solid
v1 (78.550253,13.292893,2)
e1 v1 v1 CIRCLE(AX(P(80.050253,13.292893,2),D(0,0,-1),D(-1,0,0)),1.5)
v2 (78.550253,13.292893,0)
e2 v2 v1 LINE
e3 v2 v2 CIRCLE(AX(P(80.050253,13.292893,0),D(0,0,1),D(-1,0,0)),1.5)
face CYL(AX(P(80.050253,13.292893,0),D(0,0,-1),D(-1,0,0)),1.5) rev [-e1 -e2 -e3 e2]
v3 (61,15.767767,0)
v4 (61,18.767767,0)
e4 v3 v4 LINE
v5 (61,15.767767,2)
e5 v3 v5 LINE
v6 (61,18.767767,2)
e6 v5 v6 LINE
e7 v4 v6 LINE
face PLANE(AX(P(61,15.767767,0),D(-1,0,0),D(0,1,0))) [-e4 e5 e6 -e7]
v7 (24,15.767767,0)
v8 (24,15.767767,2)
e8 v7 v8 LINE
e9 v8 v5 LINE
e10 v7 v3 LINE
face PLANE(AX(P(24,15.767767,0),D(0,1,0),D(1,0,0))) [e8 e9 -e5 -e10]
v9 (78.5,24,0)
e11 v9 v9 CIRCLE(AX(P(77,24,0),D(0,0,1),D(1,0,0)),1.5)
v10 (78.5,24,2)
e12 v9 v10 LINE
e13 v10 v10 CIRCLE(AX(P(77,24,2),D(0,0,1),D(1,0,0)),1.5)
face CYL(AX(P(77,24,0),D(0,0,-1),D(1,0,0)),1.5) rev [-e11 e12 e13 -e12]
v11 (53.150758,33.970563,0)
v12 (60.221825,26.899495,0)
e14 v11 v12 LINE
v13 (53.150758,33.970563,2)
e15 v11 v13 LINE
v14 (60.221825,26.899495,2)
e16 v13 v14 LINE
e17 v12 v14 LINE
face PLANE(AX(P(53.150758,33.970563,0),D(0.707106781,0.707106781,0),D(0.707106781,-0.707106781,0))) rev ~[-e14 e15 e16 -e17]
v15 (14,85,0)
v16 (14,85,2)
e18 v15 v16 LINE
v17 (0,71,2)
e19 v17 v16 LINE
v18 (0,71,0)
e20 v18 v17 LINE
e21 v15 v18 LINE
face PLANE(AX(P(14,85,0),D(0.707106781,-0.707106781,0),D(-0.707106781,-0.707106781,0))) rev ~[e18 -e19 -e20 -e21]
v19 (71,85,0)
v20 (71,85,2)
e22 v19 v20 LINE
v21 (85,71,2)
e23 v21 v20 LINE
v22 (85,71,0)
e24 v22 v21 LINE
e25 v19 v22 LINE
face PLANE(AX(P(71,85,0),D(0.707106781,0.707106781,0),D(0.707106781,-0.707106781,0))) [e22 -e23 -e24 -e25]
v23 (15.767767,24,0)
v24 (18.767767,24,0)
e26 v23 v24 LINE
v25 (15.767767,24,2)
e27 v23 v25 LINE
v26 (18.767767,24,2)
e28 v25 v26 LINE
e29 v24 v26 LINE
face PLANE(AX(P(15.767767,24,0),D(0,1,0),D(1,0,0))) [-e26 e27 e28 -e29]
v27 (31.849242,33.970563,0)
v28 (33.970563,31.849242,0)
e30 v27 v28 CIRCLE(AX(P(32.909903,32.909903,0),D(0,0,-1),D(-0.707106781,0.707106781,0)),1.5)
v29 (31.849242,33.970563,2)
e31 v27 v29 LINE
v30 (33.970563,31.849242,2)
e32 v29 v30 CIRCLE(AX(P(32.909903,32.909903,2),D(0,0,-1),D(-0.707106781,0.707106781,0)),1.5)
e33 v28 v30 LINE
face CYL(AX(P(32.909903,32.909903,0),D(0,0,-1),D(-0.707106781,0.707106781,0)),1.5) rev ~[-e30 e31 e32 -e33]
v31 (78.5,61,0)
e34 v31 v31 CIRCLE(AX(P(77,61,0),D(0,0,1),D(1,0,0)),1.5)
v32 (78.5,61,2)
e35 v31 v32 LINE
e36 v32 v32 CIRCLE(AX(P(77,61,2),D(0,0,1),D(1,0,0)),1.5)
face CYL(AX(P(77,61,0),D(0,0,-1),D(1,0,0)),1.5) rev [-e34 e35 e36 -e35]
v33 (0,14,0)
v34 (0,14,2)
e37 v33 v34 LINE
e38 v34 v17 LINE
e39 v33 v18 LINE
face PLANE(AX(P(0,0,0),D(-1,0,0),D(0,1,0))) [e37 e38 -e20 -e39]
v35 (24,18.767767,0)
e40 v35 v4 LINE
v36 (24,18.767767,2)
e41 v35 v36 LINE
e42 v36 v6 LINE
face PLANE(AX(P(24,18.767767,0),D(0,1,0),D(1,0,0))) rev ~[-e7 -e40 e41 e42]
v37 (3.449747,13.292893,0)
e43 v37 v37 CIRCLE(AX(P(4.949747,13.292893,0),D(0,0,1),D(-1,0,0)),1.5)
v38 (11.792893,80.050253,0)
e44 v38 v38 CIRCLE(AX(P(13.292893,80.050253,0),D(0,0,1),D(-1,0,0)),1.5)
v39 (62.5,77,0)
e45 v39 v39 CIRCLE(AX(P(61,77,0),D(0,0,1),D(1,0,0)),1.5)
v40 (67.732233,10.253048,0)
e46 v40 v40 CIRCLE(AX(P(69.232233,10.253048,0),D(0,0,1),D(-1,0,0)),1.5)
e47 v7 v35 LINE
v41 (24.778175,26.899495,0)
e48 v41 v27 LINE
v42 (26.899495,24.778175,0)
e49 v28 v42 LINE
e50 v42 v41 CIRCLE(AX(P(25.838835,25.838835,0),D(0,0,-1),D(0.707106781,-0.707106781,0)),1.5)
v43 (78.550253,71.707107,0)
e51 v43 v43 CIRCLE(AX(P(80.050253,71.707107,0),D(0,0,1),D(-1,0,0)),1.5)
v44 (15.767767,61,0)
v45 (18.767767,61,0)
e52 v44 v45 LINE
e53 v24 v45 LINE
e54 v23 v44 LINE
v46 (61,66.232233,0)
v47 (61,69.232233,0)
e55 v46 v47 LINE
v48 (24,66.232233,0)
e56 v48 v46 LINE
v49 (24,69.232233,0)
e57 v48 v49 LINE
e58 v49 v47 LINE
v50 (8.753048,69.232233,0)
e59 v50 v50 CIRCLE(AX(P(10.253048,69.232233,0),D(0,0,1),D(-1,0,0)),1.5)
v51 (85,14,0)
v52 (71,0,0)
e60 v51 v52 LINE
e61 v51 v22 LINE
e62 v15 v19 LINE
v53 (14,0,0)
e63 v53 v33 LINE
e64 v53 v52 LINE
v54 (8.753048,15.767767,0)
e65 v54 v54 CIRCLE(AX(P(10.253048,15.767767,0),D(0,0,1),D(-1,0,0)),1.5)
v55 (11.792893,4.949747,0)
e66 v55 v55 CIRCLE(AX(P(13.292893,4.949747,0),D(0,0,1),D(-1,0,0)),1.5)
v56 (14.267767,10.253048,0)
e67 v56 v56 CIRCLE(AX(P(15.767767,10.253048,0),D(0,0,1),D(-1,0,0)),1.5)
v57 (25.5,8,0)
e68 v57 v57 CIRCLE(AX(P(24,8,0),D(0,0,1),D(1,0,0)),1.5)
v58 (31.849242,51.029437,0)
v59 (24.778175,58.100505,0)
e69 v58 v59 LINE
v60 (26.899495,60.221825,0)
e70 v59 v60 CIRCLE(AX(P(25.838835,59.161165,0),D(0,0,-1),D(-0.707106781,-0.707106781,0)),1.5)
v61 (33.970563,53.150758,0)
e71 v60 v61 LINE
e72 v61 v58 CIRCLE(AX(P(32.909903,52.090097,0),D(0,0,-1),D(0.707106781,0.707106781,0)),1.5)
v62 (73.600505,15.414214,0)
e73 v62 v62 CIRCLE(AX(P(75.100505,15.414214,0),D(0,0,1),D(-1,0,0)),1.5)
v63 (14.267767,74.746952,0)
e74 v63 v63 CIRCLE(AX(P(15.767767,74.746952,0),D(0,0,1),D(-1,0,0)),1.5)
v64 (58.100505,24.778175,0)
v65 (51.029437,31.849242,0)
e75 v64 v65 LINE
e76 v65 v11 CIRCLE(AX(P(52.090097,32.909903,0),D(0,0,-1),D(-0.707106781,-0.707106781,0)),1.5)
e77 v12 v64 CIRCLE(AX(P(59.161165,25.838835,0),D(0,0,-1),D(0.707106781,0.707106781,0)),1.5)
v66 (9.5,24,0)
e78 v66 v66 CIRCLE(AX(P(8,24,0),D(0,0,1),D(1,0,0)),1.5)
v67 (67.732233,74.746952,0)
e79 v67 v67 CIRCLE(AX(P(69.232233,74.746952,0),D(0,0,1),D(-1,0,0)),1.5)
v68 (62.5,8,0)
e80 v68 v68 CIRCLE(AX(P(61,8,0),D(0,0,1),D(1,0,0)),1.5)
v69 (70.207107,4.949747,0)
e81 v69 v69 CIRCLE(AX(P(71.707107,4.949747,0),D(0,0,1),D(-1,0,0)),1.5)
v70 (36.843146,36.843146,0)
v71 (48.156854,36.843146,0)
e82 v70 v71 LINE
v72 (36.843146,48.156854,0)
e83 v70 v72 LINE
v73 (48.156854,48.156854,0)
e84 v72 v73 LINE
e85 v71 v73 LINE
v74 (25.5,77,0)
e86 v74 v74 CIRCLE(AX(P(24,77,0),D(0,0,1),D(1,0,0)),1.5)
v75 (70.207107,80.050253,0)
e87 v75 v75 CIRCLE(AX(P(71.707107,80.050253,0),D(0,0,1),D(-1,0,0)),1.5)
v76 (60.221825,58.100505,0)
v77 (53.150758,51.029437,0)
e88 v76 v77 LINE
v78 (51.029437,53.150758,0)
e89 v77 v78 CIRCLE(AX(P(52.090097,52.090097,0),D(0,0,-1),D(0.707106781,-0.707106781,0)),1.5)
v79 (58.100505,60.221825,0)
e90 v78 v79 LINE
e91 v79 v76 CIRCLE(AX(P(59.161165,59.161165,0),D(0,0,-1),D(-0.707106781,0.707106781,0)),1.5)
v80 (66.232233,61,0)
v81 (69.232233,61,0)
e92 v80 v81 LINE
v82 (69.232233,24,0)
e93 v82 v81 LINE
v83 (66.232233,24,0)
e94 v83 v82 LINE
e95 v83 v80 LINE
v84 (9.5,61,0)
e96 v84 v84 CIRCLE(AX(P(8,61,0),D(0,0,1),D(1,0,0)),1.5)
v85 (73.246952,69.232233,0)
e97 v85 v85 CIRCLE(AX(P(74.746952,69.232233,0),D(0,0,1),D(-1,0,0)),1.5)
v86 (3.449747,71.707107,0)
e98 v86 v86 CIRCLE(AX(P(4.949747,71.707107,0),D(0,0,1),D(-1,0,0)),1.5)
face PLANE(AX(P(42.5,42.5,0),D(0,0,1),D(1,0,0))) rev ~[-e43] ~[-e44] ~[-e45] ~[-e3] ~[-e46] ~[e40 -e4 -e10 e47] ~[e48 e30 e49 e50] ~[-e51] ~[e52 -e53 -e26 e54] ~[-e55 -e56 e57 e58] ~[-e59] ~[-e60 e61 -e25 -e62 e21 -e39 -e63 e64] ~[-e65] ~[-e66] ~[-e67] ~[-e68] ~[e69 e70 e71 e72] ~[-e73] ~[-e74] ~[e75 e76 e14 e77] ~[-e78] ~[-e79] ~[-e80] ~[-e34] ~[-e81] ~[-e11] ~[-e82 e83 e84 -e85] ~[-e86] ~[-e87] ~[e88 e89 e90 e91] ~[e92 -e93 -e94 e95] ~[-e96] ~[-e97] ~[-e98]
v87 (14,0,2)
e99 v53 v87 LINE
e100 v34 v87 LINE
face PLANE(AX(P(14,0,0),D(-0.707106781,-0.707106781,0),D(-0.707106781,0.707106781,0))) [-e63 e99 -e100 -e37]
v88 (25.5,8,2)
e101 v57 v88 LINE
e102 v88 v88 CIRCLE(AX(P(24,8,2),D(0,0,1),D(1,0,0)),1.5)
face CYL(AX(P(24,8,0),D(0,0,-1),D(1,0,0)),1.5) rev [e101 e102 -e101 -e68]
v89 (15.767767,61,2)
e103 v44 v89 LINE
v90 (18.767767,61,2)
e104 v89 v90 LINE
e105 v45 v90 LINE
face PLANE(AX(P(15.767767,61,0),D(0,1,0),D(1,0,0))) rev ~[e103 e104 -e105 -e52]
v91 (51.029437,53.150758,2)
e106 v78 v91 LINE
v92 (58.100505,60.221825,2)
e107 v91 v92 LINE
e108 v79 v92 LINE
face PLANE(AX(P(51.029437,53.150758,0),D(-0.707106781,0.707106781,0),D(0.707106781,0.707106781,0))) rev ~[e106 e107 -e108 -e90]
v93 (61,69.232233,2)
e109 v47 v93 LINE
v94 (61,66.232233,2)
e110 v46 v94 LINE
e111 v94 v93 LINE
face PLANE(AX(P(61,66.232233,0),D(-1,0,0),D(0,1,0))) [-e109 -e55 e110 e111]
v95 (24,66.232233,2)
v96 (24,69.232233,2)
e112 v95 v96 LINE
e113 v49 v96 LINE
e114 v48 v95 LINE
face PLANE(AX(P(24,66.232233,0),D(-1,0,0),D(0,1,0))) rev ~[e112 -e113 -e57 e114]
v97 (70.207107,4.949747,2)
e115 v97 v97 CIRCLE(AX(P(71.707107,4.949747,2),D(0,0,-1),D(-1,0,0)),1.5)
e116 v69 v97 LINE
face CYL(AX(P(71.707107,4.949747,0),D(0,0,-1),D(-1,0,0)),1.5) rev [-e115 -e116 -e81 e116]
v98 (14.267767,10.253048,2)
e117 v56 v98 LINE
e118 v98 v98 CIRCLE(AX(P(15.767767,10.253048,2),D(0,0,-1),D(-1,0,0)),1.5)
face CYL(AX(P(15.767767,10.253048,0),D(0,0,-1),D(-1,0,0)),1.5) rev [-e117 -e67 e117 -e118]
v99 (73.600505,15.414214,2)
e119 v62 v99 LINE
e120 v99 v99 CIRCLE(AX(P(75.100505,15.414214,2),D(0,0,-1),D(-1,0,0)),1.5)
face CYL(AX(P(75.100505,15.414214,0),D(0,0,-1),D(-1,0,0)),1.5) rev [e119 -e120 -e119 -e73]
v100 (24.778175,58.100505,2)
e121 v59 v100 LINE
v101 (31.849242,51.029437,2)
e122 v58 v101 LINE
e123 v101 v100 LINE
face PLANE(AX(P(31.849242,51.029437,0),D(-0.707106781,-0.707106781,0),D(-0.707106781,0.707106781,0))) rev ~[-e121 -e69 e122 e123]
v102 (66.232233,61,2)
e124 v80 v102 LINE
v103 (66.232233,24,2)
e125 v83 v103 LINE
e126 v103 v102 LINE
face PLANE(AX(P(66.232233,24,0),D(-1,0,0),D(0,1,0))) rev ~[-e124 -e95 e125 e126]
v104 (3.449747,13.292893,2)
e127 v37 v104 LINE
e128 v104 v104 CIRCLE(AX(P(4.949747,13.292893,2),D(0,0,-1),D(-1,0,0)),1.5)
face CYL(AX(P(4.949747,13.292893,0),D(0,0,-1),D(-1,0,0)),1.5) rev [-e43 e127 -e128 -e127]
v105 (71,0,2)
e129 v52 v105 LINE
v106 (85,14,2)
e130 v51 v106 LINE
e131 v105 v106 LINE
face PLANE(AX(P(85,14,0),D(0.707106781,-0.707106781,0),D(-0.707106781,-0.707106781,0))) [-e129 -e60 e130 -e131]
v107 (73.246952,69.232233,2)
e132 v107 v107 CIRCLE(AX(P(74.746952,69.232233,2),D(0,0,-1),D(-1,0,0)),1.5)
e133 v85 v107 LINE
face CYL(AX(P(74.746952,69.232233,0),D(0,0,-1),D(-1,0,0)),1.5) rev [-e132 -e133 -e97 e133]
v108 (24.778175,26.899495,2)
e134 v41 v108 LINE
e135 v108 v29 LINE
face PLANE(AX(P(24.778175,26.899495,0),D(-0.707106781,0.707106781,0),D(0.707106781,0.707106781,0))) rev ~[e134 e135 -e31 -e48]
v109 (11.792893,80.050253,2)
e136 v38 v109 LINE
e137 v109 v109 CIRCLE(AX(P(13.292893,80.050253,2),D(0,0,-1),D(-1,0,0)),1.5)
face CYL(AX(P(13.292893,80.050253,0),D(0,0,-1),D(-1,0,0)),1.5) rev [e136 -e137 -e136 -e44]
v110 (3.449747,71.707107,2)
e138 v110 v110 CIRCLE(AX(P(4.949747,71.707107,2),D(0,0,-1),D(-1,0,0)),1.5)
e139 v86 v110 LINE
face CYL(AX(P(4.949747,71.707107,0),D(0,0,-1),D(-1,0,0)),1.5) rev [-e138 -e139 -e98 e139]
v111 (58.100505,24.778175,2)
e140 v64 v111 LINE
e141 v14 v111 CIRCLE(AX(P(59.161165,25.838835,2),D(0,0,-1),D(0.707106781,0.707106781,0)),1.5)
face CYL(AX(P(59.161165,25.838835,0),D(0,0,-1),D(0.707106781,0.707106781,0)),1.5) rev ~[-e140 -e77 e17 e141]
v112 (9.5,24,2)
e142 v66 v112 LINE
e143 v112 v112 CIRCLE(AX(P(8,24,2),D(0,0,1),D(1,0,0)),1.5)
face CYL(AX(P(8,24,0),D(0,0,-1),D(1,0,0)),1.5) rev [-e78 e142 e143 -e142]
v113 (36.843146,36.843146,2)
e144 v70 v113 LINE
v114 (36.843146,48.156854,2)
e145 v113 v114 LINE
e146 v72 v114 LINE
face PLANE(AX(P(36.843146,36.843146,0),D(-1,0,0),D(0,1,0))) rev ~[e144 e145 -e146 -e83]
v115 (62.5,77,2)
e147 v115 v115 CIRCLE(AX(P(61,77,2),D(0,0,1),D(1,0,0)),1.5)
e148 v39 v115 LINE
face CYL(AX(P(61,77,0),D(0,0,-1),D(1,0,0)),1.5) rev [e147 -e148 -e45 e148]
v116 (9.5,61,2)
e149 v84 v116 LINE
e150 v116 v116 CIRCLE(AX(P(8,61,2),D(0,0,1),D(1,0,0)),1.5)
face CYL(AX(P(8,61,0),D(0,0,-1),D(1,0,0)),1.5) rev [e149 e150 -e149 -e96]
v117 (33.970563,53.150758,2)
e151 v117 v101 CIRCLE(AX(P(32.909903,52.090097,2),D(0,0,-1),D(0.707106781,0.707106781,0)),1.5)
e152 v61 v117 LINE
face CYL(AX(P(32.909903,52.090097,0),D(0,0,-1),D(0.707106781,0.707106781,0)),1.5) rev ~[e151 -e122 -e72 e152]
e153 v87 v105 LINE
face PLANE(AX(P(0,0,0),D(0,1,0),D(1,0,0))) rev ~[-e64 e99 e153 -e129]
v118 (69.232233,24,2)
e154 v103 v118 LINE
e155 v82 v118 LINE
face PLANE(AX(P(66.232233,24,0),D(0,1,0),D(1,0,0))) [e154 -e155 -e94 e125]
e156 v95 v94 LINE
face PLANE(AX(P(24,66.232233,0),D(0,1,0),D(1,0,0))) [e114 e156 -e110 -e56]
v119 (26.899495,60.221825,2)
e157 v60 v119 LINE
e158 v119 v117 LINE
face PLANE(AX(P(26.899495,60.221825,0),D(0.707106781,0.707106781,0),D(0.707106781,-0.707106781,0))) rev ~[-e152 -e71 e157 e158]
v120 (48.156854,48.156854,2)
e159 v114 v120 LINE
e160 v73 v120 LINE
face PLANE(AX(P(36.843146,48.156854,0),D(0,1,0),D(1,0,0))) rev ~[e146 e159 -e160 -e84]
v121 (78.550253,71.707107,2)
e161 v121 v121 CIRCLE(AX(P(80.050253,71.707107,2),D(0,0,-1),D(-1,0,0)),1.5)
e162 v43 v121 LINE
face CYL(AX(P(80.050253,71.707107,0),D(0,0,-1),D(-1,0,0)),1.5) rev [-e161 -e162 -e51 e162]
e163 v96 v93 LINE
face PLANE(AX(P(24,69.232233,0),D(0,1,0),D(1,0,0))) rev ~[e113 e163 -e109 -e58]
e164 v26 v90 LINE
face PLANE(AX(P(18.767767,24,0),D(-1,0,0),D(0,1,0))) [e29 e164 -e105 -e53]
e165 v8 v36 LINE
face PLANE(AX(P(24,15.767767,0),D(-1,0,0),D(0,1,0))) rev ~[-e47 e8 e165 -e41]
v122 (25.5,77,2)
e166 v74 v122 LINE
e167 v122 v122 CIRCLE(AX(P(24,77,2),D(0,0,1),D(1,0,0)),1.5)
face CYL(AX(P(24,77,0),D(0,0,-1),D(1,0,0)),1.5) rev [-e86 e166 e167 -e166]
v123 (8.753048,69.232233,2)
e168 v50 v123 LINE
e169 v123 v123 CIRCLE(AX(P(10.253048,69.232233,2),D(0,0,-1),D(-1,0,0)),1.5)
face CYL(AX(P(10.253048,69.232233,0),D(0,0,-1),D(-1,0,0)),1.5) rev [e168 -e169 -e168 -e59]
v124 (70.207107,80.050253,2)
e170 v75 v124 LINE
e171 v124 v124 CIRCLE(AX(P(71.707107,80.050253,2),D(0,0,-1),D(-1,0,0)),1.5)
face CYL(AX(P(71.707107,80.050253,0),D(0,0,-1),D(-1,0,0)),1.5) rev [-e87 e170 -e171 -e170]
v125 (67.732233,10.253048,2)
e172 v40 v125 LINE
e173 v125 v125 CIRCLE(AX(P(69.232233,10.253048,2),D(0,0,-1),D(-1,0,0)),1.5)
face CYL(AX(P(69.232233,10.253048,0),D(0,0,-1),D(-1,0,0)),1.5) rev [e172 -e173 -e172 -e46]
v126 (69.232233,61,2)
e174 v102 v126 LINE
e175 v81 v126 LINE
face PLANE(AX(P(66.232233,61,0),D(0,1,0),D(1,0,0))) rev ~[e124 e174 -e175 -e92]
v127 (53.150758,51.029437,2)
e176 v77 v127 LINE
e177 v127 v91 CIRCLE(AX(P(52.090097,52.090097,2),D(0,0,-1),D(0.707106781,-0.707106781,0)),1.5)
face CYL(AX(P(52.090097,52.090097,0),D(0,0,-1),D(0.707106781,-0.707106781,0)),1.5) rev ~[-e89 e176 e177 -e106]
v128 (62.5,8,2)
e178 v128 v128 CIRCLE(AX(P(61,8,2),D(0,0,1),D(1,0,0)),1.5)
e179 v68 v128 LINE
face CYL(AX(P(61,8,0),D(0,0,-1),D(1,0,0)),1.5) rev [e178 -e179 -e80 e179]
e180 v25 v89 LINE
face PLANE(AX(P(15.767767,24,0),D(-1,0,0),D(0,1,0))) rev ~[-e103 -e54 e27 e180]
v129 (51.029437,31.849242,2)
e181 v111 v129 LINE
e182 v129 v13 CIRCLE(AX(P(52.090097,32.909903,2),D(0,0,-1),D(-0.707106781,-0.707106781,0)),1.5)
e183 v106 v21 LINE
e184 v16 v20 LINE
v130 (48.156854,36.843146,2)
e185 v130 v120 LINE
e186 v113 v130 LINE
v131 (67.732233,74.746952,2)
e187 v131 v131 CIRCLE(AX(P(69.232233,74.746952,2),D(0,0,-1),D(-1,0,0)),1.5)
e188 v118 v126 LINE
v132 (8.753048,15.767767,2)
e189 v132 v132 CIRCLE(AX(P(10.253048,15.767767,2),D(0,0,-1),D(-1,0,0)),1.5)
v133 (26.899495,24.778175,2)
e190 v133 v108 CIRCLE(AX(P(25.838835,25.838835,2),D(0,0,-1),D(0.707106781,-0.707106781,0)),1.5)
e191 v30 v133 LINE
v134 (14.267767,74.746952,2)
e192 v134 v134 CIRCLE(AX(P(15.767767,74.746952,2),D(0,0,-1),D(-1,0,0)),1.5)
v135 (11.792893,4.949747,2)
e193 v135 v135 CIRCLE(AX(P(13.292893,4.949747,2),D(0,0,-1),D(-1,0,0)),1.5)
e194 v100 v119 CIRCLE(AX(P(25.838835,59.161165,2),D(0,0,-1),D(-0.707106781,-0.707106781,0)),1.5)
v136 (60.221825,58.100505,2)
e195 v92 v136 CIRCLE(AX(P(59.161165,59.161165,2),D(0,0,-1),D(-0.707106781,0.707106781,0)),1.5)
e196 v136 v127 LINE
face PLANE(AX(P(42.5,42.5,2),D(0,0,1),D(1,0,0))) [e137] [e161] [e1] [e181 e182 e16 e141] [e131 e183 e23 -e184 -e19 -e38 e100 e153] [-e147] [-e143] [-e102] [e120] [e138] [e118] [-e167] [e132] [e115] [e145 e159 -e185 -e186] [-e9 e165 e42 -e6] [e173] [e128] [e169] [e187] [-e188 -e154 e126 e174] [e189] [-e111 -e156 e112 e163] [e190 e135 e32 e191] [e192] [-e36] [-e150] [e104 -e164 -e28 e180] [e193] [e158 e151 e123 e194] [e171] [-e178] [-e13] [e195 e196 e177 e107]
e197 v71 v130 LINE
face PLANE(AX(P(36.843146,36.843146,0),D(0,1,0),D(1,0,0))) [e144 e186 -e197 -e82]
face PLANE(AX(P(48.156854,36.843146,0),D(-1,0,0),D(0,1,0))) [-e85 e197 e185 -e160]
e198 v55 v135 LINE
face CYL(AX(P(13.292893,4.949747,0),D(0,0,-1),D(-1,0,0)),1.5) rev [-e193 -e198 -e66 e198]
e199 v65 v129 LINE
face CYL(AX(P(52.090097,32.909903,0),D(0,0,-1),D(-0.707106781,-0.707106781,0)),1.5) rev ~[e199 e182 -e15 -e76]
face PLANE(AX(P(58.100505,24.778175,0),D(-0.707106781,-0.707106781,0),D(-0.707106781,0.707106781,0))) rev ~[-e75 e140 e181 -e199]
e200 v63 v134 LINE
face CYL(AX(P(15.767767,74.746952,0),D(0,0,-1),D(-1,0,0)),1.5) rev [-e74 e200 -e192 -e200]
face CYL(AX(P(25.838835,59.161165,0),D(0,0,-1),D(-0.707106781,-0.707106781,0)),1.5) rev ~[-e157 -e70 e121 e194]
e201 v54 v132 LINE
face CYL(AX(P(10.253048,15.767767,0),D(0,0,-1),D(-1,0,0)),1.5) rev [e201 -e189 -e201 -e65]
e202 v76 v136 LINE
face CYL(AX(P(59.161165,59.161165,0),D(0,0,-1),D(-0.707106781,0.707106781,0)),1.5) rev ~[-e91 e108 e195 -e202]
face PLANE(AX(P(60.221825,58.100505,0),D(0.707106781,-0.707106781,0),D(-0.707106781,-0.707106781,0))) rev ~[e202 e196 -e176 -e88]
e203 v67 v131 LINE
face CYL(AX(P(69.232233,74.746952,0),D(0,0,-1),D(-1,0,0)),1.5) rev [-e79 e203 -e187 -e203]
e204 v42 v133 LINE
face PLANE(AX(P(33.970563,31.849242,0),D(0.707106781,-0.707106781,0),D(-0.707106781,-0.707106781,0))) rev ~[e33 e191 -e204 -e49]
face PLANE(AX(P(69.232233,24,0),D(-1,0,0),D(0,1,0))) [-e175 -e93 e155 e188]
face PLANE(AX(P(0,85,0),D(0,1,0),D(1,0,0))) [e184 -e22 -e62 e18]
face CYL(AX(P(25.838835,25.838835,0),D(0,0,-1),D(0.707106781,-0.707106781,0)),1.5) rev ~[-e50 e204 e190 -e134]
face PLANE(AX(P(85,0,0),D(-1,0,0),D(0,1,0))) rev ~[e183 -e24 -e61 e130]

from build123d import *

# Parameters (mm, degrees)
SKETCH_1_W          = 85
SKETCH_1_H          = 85
EXTRUDE_1_DEPTH     = 2
CUT_EXTRUDE_1_DEPTH = 3
SKETCH_4_R          = 1.5
CUT_EXTRUDE_2_DEPTH = 3
SKETCH_5_R          = 1.5
CUT_EXTRUDE_3_DEPTH = 2
SKETCH_6_W          = 37
SKETCH_6_H          = 3
SKETCH_6_W_2        = 3
SKETCH_6_H_2        = 37
SKETCH_6_W_3        = 11.313708498
SKETCH_6_H_3        = 11.313708498
CUT_EXTRUDE_4_DEPTH = 2


with BuildPart() as part:
    # 草图1 → 凸台-拉伸1 (new body)
    with BuildSketch(Plane.XY):
        with Locations((42.5, 42.5)):
            Rectangle(SKETCH_1_W, SKETCH_1_H)
    extrude(amount=EXTRUDE_1_DEPTH)

    # 草图2 → 切除-拉伸1 (cut)
    with BuildSketch(Plane.XY):
        Polygon((0, 85), (14, 85), (0, 71), align=None)
        Polygon((0, 0), (14, 0), (0, 14), align=None)
        Polygon((85, 85), (71, 85), (85, 71), align=None)
        Polygon((85, 0), (85, 14), (71, 0), align=None)
    extrude(amount=CUT_EXTRUDE_1_DEPTH, mode=Mode.SUBTRACT)

    # 草图4 → 切除-拉伸2 (cut)
    with BuildSketch(Plane.XY):
        with Locations(Location((13.292893219, 80.050252532, 0), (0, 0, 180))):
            Circle(SKETCH_4_R)
        with Locations(Location((4.949747468, 71.707106781, 0), (0, 0, 180))):
            Circle(SKETCH_4_R)
        with Locations(Location((10.253048327, 69.232233047, 0), (0, 0, 180))):
            Circle(SKETCH_4_R)
        with Locations(Location((15.767766953, 74.746951673, 0), (0, 0, 180))):
            Circle(SKETCH_4_R)
        with Locations(Location((4.949747468, 13.292893219, 0), (0, 0, 180))):
            Circle(SKETCH_4_R)
        with Locations(Location((13.292893219, 4.949747468, 0), (0, 0, 180))):
            Circle(SKETCH_4_R)
        with Locations(Location((10.253048327, 15.767766953, 0), (0, 0, 180))):
            Circle(SKETCH_4_R)
        with Locations(Location((15.767766953, 10.253048327, 0), (0, 0, 180))):
            Circle(SKETCH_4_R)
        with Locations(Location((71.707106781, 4.949747468, 0), (0, 0, 180))):
            Circle(SKETCH_4_R)
        with Locations(Location((69.232233047, 10.253048327, 0), (0, 0, 180))):
            Circle(SKETCH_4_R)
        with Locations(Location((75.100505063, 15.414213562, 0), (0, 0, 180))):
            Circle(SKETCH_4_R)
        with Locations(Location((80.050252532, 13.292893219, 0), (0, 0, 180))):
            Circle(SKETCH_4_R)
        with Locations(Location((71.707106781, 80.050252532, 0), (0, 0, 180))):
            Circle(SKETCH_4_R)
        with Locations(Location((69.232233047, 74.746951673, 0), (0, 0, 180))):
            Circle(SKETCH_4_R)
        with Locations(Location((74.746951673, 69.232233047, 0), (0, 0, 180))):
            Circle(SKETCH_4_R)
        with Locations(Location((80.050252532, 71.707106781, 0), (0, 0, 180))):
            Circle(SKETCH_4_R)
    extrude(amount=CUT_EXTRUDE_2_DEPTH, mode=Mode.SUBTRACT)

    # 草图5 → 切除-拉伸3 (cut)
    with BuildSketch(Plane.XY):
        with Locations((8, 61)):
            Circle(SKETCH_5_R)
        with Locations((8, 24)):
            Circle(SKETCH_5_R)
        with Locations((24, 8)):
            Circle(SKETCH_5_R)
        with Locations((61, 8)):
            Circle(SKETCH_5_R)
        with Locations((77, 24)):
            Circle(SKETCH_5_R)
        with Locations((77, 61)):
            Circle(SKETCH_5_R)
        with Locations((61, 77)):
            Circle(SKETCH_5_R)
        with Locations((24, 77)):
            Circle(SKETCH_5_R)
    extrude(amount=CUT_EXTRUDE_3_DEPTH, mode=Mode.SUBTRACT)

    # 草图6 → 切除-拉伸4 (cut)
    with BuildSketch(Plane.XY):
        with Locations((42.5, 17.267766953)):
            Rectangle(SKETCH_6_W, SKETCH_6_H)
        with Locations((42.5, 67.732233047)):
            Rectangle(SKETCH_6_W, SKETCH_6_H)
        with Locations((17.267766953, 42.5)):
            Rectangle(SKETCH_6_W_2, SKETCH_6_H_2)
        with Locations((67.732233047, 42.5)):
            Rectangle(SKETCH_6_W_2, SKETCH_6_H_2)
        with BuildLine():
            Line((26.899494937, 60.221825407), (33.970562748, 53.150757595))
            ThreePointArc((33.970562748, 53.150757595), (33.970562748, 51.029437252), (31.849242405, 51.029437252))
            Line((31.849242405, 51.029437252), (24.778174593, 58.100505063))
            ThreePointArc((24.778174593, 58.100505063), (24.778174593, 60.221825407), (26.899494937, 60.221825407))
        make_face()
        with BuildLine():
            Line((24.778174593, 26.899494937), (31.849242405, 33.970562748))
            ThreePointArc((31.849242405, 33.970562748), (33.970562748, 33.970562748), (33.970562748, 31.849242405))
            Line((33.970562748, 31.849242405), (26.899494937, 24.778174593))
            ThreePointArc((26.899494937, 24.778174593), (24.778174593, 24.778174593), (24.778174593, 26.899494937))
        make_face()
        with BuildLine():
            Line((60.221825407, 58.100505063), (53.150757595, 51.029437252))
            ThreePointArc((53.150757595, 51.029437252), (51.029437252, 51.029437252), (51.029437252, 53.150757595))
            Line((51.029437252, 53.150757595), (58.100505063, 60.221825407))
            ThreePointArc((58.100505063, 60.221825407), (60.221825407, 60.221825407), (60.221825407, 58.100505063))
        make_face()
        with BuildLine():
            Line((58.100505063, 24.778174593), (51.029437252, 31.849242405))
            ThreePointArc((51.029437252, 31.849242405), (51.029437252, 33.970562748), (53.150757595, 33.970562748))
            Line((53.150757595, 33.970562748), (60.221825407, 26.899494937))
            ThreePointArc((60.221825407, 26.899494937), (60.221825407, 24.778174593), (58.100505063, 24.778174593))
        make_face()
        with Locations((42.5, 42.5)):
            Rectangle(SKETCH_6_W_3, SKETCH_6_H_3)
    extrude(amount=CUT_EXTRUDE_4_DEPTH, mode=Mode.SUBTRACT)


solid = part.part
